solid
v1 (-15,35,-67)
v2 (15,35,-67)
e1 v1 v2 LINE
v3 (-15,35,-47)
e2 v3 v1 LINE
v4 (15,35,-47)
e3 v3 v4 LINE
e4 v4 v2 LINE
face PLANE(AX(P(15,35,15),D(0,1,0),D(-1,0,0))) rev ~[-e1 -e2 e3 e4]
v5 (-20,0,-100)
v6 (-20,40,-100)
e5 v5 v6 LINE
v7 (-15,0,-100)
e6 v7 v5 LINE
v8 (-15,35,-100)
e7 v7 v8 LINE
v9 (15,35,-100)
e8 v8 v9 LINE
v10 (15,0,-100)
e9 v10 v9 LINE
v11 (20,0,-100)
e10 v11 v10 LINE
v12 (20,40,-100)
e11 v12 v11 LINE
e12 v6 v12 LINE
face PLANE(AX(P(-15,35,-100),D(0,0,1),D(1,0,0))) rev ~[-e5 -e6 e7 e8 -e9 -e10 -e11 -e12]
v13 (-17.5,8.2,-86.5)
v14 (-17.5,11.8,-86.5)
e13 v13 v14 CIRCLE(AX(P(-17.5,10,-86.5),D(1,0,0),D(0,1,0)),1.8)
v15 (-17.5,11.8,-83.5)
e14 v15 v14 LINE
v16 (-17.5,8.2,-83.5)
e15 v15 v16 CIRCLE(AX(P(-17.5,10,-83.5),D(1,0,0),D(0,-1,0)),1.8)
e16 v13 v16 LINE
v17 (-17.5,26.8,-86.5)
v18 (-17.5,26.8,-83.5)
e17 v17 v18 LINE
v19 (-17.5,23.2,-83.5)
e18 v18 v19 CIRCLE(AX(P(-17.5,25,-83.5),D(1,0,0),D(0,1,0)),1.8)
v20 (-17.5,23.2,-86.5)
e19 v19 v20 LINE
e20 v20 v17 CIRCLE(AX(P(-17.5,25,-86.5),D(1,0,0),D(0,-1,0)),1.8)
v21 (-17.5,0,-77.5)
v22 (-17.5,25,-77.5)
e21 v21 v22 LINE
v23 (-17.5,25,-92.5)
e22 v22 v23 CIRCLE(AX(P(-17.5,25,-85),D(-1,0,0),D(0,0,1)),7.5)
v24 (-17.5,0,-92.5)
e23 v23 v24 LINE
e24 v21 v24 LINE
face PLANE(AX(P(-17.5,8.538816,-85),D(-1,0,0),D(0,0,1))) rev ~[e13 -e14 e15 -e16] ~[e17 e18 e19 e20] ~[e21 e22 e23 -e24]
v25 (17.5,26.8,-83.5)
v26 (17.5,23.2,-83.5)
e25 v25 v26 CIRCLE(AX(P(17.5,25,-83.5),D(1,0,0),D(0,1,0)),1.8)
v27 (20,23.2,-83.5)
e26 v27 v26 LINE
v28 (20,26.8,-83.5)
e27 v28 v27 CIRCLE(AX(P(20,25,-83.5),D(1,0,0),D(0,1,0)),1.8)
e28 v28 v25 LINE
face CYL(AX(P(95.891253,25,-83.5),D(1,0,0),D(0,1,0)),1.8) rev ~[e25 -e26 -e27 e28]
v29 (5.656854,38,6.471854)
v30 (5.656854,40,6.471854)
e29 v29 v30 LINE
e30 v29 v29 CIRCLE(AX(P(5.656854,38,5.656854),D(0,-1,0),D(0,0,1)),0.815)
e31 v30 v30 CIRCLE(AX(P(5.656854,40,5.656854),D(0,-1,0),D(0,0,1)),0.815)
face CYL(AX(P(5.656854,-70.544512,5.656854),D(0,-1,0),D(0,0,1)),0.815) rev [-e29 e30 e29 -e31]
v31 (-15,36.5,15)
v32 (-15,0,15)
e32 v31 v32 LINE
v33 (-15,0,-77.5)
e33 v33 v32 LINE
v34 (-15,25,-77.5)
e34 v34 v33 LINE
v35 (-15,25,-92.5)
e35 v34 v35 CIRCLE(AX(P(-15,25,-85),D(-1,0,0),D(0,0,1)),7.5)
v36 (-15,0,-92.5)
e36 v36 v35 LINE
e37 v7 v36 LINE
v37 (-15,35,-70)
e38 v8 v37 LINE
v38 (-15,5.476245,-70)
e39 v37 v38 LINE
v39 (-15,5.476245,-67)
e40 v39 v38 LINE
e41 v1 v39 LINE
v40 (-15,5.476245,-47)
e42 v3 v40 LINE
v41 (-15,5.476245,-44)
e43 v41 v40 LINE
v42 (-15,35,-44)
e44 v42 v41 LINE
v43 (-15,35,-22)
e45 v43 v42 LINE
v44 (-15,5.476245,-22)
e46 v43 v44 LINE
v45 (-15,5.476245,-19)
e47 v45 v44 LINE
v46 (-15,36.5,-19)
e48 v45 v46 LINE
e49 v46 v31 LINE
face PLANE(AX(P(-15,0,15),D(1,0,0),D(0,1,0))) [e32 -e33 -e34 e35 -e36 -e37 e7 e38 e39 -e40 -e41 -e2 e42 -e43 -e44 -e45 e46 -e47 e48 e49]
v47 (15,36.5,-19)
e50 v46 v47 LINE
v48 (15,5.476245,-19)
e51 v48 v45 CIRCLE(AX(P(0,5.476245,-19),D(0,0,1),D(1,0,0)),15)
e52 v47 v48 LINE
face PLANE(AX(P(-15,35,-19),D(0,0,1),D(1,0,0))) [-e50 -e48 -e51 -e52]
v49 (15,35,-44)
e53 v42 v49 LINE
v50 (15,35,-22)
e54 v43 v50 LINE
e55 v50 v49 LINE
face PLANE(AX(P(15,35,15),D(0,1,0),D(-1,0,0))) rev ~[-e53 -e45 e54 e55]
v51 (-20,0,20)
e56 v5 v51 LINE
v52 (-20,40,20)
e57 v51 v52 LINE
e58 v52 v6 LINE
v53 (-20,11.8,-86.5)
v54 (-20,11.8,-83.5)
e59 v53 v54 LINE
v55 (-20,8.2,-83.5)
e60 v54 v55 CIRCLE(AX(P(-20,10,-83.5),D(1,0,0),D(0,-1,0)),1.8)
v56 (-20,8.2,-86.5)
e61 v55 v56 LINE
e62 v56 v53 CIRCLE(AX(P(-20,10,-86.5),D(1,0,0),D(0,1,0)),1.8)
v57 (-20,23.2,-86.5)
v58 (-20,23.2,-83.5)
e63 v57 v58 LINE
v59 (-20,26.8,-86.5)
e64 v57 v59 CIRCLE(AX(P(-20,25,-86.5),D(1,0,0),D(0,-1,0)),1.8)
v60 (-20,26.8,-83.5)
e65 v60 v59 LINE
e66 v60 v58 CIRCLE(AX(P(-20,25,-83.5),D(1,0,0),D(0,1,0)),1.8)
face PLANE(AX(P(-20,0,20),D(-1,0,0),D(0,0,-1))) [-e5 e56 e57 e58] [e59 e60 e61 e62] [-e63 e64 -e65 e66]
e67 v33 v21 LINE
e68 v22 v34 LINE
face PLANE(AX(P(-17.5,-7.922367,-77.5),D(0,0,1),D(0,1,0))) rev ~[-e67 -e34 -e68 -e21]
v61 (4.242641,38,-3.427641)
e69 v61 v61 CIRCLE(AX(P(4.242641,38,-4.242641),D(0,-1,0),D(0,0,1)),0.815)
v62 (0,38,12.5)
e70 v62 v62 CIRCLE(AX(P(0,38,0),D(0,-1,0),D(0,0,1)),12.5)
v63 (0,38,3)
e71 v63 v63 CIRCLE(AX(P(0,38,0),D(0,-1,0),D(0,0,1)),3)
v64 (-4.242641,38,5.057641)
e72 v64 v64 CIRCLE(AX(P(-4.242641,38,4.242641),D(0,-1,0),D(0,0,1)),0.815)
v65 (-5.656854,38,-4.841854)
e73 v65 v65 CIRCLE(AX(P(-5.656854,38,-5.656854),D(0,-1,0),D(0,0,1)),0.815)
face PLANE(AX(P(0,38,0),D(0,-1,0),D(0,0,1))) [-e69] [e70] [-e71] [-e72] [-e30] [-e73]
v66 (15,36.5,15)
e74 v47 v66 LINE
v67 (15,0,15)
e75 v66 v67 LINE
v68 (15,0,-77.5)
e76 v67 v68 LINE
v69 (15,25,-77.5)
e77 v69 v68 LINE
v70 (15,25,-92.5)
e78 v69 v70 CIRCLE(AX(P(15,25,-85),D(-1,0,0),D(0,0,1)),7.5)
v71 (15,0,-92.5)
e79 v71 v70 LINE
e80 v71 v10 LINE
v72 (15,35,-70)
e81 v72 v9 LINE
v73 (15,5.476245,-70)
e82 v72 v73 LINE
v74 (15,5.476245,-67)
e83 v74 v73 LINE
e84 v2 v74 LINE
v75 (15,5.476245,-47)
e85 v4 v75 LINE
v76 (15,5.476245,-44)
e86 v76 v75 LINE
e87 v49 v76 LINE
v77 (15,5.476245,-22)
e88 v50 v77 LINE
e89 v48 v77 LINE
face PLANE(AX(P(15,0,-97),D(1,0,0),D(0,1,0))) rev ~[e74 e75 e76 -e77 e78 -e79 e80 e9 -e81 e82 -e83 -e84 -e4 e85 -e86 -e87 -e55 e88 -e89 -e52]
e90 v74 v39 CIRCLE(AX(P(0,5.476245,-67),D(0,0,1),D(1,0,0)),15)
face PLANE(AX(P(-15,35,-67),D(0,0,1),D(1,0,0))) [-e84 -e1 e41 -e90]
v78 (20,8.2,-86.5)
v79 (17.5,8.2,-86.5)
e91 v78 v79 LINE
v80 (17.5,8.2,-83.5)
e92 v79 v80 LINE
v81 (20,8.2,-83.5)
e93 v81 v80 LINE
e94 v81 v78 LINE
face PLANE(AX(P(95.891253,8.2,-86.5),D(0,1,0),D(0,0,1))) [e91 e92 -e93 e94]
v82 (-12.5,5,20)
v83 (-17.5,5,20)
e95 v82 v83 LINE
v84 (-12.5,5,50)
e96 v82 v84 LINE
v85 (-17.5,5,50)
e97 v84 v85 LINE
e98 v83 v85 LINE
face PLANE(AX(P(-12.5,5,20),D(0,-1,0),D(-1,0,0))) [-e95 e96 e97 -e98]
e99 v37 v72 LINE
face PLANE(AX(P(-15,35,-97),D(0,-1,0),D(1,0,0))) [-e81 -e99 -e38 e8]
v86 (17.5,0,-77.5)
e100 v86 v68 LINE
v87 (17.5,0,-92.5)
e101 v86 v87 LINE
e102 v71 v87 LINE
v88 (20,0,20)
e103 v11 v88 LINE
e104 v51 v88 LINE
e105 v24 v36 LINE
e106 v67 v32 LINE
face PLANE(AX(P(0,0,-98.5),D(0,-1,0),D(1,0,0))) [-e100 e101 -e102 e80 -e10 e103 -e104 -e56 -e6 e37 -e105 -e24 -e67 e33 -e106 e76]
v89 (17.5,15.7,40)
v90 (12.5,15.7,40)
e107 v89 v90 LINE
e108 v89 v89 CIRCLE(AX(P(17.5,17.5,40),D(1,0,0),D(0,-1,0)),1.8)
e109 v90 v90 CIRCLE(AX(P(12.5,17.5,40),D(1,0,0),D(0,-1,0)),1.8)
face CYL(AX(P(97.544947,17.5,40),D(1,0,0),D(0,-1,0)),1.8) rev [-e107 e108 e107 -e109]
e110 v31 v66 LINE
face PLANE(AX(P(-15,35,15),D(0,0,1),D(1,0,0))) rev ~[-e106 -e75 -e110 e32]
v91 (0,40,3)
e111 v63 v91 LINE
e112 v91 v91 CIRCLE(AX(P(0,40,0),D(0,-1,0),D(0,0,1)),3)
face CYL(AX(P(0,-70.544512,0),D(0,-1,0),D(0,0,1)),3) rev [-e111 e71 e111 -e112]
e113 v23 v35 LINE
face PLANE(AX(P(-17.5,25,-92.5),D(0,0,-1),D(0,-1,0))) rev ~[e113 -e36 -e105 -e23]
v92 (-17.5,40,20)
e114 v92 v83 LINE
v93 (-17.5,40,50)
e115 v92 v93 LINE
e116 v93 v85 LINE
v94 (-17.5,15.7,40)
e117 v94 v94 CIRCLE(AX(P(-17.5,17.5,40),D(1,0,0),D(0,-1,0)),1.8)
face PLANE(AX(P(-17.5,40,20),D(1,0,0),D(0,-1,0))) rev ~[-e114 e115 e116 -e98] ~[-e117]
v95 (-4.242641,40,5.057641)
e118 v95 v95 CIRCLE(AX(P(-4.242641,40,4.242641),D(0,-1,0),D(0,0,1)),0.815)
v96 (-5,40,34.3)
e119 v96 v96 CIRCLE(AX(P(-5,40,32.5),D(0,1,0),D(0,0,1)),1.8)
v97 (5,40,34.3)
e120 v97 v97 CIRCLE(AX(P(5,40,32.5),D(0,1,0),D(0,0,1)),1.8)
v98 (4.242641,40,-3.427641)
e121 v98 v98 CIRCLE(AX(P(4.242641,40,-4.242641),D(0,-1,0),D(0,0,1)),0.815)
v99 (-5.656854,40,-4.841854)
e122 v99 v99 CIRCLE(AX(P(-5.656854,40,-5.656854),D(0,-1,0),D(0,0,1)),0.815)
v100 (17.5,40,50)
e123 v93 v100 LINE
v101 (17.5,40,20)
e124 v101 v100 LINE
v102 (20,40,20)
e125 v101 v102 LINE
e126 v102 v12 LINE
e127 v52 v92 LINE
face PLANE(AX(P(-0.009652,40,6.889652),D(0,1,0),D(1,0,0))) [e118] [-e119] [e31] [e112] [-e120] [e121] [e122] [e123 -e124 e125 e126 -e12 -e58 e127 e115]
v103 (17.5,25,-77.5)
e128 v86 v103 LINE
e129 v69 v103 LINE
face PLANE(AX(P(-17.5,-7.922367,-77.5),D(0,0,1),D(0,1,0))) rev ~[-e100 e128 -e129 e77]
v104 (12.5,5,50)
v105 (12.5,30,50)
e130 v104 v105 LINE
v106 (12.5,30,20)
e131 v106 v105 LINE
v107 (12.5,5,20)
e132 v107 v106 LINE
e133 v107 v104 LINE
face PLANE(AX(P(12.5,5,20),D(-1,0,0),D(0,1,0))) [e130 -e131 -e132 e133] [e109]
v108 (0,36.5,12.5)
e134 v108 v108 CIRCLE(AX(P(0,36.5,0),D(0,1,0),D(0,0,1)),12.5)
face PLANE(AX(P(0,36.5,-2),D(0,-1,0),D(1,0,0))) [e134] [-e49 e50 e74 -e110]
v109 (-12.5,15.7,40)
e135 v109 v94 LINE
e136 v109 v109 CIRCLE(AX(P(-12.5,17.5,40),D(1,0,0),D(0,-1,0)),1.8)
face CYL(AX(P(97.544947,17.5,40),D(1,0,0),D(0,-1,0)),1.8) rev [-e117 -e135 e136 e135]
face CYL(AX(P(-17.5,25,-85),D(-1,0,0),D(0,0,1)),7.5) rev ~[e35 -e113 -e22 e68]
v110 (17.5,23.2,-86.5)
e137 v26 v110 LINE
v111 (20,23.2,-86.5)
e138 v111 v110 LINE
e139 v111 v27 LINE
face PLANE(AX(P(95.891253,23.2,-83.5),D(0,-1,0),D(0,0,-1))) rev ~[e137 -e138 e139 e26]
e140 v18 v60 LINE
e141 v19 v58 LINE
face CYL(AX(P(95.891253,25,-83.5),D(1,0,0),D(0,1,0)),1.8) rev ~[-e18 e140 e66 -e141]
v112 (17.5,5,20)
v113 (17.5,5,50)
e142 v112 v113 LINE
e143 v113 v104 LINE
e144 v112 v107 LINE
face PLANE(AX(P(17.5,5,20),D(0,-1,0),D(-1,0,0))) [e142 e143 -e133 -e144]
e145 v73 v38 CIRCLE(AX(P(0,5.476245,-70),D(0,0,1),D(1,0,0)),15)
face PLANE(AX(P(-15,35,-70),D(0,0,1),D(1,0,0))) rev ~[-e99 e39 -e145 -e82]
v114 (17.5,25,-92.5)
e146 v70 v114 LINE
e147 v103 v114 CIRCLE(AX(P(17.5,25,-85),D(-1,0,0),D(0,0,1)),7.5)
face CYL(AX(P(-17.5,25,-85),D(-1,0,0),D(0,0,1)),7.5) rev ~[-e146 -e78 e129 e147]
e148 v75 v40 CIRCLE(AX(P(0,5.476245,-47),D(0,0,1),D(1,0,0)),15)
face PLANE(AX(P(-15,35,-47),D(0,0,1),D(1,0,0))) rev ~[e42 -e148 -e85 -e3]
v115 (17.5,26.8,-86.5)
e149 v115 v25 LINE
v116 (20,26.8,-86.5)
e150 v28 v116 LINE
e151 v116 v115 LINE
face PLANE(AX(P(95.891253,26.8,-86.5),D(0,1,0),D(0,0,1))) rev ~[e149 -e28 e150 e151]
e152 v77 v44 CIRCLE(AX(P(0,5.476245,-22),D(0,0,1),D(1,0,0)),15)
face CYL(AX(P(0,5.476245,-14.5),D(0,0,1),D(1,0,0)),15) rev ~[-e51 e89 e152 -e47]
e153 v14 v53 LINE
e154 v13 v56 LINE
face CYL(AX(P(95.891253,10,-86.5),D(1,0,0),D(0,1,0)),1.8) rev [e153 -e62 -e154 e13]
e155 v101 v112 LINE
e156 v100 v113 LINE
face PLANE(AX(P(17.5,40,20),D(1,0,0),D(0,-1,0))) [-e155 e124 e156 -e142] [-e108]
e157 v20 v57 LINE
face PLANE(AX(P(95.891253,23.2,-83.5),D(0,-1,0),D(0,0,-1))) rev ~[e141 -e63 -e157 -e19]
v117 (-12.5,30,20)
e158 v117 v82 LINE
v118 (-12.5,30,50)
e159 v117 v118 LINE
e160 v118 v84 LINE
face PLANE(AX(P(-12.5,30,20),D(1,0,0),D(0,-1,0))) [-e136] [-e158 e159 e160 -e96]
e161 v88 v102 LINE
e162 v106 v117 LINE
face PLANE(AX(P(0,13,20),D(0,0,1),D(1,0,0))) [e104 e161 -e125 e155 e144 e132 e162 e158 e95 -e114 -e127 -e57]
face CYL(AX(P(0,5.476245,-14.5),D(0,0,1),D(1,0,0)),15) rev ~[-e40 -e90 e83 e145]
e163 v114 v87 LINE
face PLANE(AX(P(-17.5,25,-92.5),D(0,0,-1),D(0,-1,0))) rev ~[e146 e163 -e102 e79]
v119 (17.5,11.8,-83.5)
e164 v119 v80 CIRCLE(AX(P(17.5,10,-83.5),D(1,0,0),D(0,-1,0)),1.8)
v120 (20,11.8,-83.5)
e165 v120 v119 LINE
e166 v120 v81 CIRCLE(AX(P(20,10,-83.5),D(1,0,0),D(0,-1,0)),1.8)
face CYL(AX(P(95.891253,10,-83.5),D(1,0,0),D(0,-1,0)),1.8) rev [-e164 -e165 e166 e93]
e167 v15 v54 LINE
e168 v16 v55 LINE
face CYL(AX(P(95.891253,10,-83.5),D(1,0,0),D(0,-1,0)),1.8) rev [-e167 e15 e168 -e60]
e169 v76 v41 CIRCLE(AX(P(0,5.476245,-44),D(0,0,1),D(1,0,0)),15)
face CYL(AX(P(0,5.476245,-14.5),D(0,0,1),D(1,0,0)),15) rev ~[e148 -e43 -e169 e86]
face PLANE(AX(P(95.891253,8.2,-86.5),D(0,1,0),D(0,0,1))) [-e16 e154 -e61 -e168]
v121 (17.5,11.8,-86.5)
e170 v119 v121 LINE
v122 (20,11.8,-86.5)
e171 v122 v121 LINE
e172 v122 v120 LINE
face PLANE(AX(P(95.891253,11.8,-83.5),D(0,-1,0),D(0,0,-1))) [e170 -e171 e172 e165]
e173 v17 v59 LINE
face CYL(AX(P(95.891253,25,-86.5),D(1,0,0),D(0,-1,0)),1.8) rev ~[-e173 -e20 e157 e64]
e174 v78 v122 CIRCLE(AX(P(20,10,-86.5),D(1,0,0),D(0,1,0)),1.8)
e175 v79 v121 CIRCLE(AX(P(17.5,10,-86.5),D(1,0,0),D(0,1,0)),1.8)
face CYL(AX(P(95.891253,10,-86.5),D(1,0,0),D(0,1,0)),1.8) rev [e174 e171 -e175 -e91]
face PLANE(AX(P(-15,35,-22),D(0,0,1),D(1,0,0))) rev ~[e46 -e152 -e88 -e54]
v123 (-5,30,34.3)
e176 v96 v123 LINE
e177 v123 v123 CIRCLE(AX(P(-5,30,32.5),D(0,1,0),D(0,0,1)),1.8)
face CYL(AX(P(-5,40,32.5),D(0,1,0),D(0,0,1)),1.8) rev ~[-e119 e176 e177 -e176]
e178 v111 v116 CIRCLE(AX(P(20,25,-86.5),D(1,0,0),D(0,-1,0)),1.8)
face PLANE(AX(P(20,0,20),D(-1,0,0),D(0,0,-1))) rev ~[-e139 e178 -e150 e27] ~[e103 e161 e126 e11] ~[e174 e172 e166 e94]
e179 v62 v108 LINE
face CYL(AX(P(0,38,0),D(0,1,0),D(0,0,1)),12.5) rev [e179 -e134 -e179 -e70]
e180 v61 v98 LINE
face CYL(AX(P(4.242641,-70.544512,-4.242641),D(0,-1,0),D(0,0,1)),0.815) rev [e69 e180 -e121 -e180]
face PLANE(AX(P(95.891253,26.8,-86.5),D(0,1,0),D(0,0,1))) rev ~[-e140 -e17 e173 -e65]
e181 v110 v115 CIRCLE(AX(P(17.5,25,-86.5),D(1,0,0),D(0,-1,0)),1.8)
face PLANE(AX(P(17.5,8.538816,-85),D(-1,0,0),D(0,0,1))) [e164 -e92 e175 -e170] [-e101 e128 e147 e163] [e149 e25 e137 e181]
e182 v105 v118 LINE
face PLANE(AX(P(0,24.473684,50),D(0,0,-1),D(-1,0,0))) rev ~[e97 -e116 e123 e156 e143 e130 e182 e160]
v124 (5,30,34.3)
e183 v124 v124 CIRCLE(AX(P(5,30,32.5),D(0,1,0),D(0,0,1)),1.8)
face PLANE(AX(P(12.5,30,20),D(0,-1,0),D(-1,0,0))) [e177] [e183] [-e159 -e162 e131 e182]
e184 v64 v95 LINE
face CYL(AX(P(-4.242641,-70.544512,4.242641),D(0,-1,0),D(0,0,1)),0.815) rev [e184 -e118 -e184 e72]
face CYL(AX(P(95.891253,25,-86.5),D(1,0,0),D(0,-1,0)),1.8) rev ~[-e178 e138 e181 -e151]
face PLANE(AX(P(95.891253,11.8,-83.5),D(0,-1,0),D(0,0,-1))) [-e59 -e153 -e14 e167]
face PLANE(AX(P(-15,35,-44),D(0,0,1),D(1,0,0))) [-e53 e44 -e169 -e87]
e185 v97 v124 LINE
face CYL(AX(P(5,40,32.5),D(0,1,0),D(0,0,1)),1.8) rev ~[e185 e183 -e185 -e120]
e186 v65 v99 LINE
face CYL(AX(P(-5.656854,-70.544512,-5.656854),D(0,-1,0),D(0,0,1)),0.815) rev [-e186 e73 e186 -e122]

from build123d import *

# Parameters (mm, degrees)
SKETCH1_W                = 40
SKETCH1_H                = 40
SKETCH1_R                = 2.375
BOSS_EXTRUDE1_DEPTH      = 40
CUT_EXTRUDE1_DEPTH       = 61
CUT_EXTRUDE1_DEPTH_BACK  = 61
CUT_EXTRUDE2_DEPTH       = 49.989795019
CUT_EXTRUDE2_DEPTH_BACK  = 35
SKETCH6_W                = 30
SKETCH6_H                = 35
SKETCH3_R                = 3
CUT_EXTRUDE3_DEPTH       = 61
BOSS_EXTRUDE2_DEPTH      = 30
SKETCH8_R                = 1.8
CUT_EXTRUDE4_DEPTH       = 68.082039325
BOSS_EXTRUDE4_START      = -35
SKETCH10_W               = 5
SKETCH10_H               = 35
BOSS_EXTRUDE4_DEPTH      = 115
SKETCH11_R               = 2.375
CUT_EXTRUDE5_DEPTH       = 70
CUT_EXTRUDE6_DEPTH       = 115.891252931
CUT_EXTRUDE6_DEPTH_BACK  = 115.891252931
SKETCH14_W               = 30
SKETCH14_H               = 3
BOSS_EXTRUDE10_DEPTH     = 35
CUT_EXTRUDE7_DEPTH       = 108.819293264
CUT_EXTRUDE7_DEPTH_BACK  = 1.5
SKETCH16_W               = 30
SKETCH16_H               = 34
CUT_EXTRUDE8_DEPTH       = 32
CUT_EXTRUDE8_DEPTH_BACK  = 32.5
CUT_EXTRUDE9_DEPTH       = 115.04494728
CUT_EXTRUDE9_DEPTH_BACK  = 115.04494728
SKETCH19_R               = 1.8
SKETCH3_2_R              = 3
BOSS_EXTRUDE11_DEPTH     = 5
SKETCH20_W               = 30
SKETCH20_H               = 35
CUT_EXTRUDE10_DEPTH      = 10
CUT_EXTRUDE11_DEPTH      = 110.544511501
CUT_EXTRUDE11_DEPTH_BACK = 110.544511501
SKETCH22_R               = 3
SKETCH21_R               = 2.375
BOSS_EXTRUDE13_DEPTH     = 3.5
CUT_EXTRUDE12_DEPTH      = 110.544511501
CUT_EXTRUDE12_DEPTH_BACK = 110.544511501
SKETCH23_R               = 0.815
CUT_EXTRUDE13_DEPTH      = 109.315511355
CUT_EXTRUDE13_DEPTH_BACK = 1.5
SKETCH24_R               = 12.5
CUT_EXTRUDE14_DEPTH      = 17.5
CUT_EXTRUDE14_DEPTH_BACK = 17.5


with BuildPart() as part:
    # Sketch1 → Boss-Extrude1 (new body)
    with BuildSketch(Plane(origin=(0, 0, 0), x_dir=(1, 0, 0), z_dir=(0, 1, 0))):
        Rectangle(SKETCH1_W, SKETCH1_H)
        with Locations(Location((6.88, 0, 0), (0, 0, 270))):
            Circle(SKETCH1_R, mode=Mode.SUBTRACT)
        with Locations(Location((-0.009652089, -6.889652089, 0), (0, 0, 270))):
            Circle(SKETCH1_R, mode=Mode.SUBTRACT)
        with Locations(Location((-6.899304178, 0, 0), (0, 0, 270))):
            Circle(SKETCH1_R, mode=Mode.SUBTRACT)
        with Locations(Location((-0.009652089, 6.889652089, 0), (0, 0, 270))):
            Circle(SKETCH1_R, mode=Mode.SUBTRACT)
    extrude(amount=BOSS_EXTRUDE1_DEPTH)

    # Sketch4 → Cut-Extrude1 (cut, two sides: drawn at the far end of the back side and taken through both)
    with BuildSketch(Plane.ZY.offset(20).offset(-CUT_EXTRUDE1_DEPTH_BACK)):
        with BuildLine():
            Line((-20, 35), (-20, 0))
            Line((-20, 0), (15, 0))
            ThreePointArc((15, 0), (4.748737342, 24.748737342), (-20, 35))
        make_face()
    extrude(amount=CUT_EXTRUDE1_DEPTH + CUT_EXTRUDE1_DEPTH_BACK, mode=Mode.SUBTRACT)

    # Sketch6 → Cut-Extrude2 (cut, two sides: drawn at the far end of the back side and taken through both)
    with BuildSketch(Plane.XZ.offset(-CUT_EXTRUDE2_DEPTH_BACK)):
        with Locations((0, -2.5)):
            Rectangle(SKETCH6_W, SKETCH6_H)
    extrude(amount=CUT_EXTRUDE2_DEPTH + CUT_EXTRUDE2_DEPTH_BACK, mode=Mode.SUBTRACT)

    # Sketch3 → Cut-Extrude3 (cut, through all)
    with BuildSketch(Plane.XY.offset(20)):
        with Locations((0, 13)):
            Circle(SKETCH3_R)
        with Locations((-7, 20)):
            Circle(SKETCH3_R)
        with Locations((7, 20)):
            Circle(SKETCH3_R)
    extrude(amount=-CUT_EXTRUDE3_DEPTH, mode=Mode.SUBTRACT)

    # Sketch7 → Boss-Extrude2 (add)
    with BuildSketch(Plane.XY.offset(20)):
        Polygon((-17.5, 40), (17.5, 40), (17.5, 5), (12.5, 5), (12.5, 30), (-12.5, 30), (-12.5, 5), (-17.5, 5), (-17.5, 23.79079138), align=None)
    extrude(amount=BOSS_EXTRUDE2_DEPTH)

    # Sketch8 → Cut-Extrude4 (cut, through all)
    with BuildSketch(Plane(origin=(0, 40, 0), x_dir=(1, 0, 0), z_dir=(0, 1, 0))):
        with Locations(Location((5, -32.5, 0), (0, 0, 270))):
            Circle(SKETCH8_R)
        with Locations(Location((-5, -32.5, 0), (0, 0, 270))):
            Circle(SKETCH8_R)
    extrude(amount=-CUT_EXTRUDE4_DEPTH, mode=Mode.SUBTRACT)

    # Sketch10 → Boss-Extrude4 (add)
    with BuildSketch(Plane(origin=(0, 0, -20), x_dir=(-1, 0, 0), z_dir=(0, 0, -1)).offset(BOSS_EXTRUDE4_START)):
        Polygon((20, 40), (-20, 40), (-20, 35), (-15, 35), (15, 35), (20, 35), align=None)
        with Locations((17.5, 17.5)):
            Rectangle(SKETCH10_W, SKETCH10_H)
        with Locations((-17.5, 17.5)):
            Rectangle(SKETCH10_W, SKETCH10_H)
    extrude(amount=BOSS_EXTRUDE4_DEPTH)

    # Sketch11 → Cut-Extrude5 (cut)
    with BuildSketch(Plane(origin=(0, 40, 0), x_dir=(1, 0, 0), z_dir=(0, 1, 0))):
        with Locations(Location((-0.009652089, -6.889652089, 0), (0, 0, 270))):
            Circle(SKETCH11_R)
        with Locations(Location((6.88, 0, 0), (0, 0, 270))):
            Circle(SKETCH11_R)
        with Locations(Location((-0.009652089, 6.889652089, 0), (0, 0, 270))):
            Circle(SKETCH11_R)
        with Locations(Location((-6.899304178, 0, 0), (0, 0, 270))):
            Circle(SKETCH11_R)
    extrude(amount=-CUT_EXTRUDE5_DEPTH, mode=Mode.SUBTRACT)

    # Sketch13 → Cut-Extrude6 (cut, two sides: drawn at the far end of the back side and taken through both)
    with BuildSketch(Plane.ZY.offset(20).offset(-CUT_EXTRUDE6_DEPTH_BACK)):
        with BuildLine():
            Line((-86.5, 26.8), (-83.5, 26.8))
            ThreePointArc((-83.5, 26.8), (-81.7, 25), (-83.5, 23.2))
            Line((-83.5, 23.2), (-86.5, 23.2))
            ThreePointArc((-86.5, 23.2), (-88.3, 25), (-86.5, 26.8))
        make_face()
        with BuildLine():
            Line((-86.5, 8.2), (-83.5, 8.2))
            ThreePointArc((-83.5, 8.2), (-81.7, 10), (-83.5, 11.8))
            Line((-83.5, 11.8), (-86.5, 11.8))
            ThreePointArc((-86.5, 11.8), (-88.3, 10), (-86.5, 8.2))
        make_face()
    extrude(amount=CUT_EXTRUDE6_DEPTH + CUT_EXTRUDE6_DEPTH_BACK, mode=Mode.SUBTRACT)

    # Sketch14 → Boss-Extrude10 (add)
    with BuildSketch(Plane.XZ.offset(-35)):
        with Locations((0, -98.5)):
            Rectangle(SKETCH14_W, SKETCH14_H)
        with Locations((0, -45.5)):
            Rectangle(SKETCH14_W, SKETCH14_H)
        with Locations((0, -20.5)):
            Rectangle(SKETCH14_W, SKETCH14_H)
        with Locations((0, -68.5)):
            Rectangle(SKETCH14_W, SKETCH14_H)
    extrude(amount=BOSS_EXTRUDE10_DEPTH)

    # Sketch16 → Cut-Extrude7 (cut, two sides: drawn at the far end of the back side and taken through both)
    with BuildSketch(Plane.XZ.offset(-35).offset(-CUT_EXTRUDE7_DEPTH_BACK)):
        with Locations((0, -2)):
            Rectangle(SKETCH16_W, SKETCH16_H)
    extrude(amount=CUT_EXTRUDE7_DEPTH + CUT_EXTRUDE7_DEPTH_BACK, mode=Mode.SUBTRACT)

    # Sketch17 → Cut-Extrude8 (cut, two sides: drawn at the far end of the back side and taken through both)
    with BuildSketch(Plane(origin=(0, 0, -47), x_dir=(-1, 0, 0), z_dir=(0, 0, -1)).offset(-CUT_EXTRUDE8_DEPTH_BACK)):
        with BuildLine():
            Line((-15, -8.523755025), (-15, 5.476244975))
            ThreePointArc((-15, 5.476244975), (0, 20.476244975), (15, 5.476244975))
            Line((15, 5.476244975), (15, -8.523755025))
            ThreePointArc((15, -8.523755025), (0, -23.523755025), (-15, -8.523755025))
        make_face()
    extrude(amount=CUT_EXTRUDE8_DEPTH + CUT_EXTRUDE8_DEPTH_BACK, mode=Mode.SUBTRACT)

    # Sketch19 → Cut-Extrude9 (cut, two sides: drawn at the far end of the back side and taken through both)
    with BuildSketch(Plane.ZY.offset(17.5).offset(-CUT_EXTRUDE9_DEPTH_BACK)):
        with Locations(Location((40, 17.5, 0), (0, 0, 270))):
            Circle(SKETCH19_R)
    extrude(amount=CUT_EXTRUDE9_DEPTH + CUT_EXTRUDE9_DEPTH_BACK, mode=Mode.SUBTRACT)

    # Sketch3<2> → Boss-Extrude11 (add)
    with BuildSketch(Plane.XY.offset(20)):
        with Locations((0, 13)):
            Circle(SKETCH3_2_R)
        with Locations((-7, 20)):
            Circle(SKETCH3_2_R)
        with Locations((7, 20)):
            Circle(SKETCH3_2_R)
    extrude(amount=-BOSS_EXTRUDE11_DEPTH)

    # Sketch20 → Cut-Extrude10 (cut)
    with BuildSketch(Plane.XY.offset(-97)):
        with Locations((0, 17.5)):
            Rectangle(SKETCH20_W, SKETCH20_H)
    extrude(amount=-CUT_EXTRUDE10_DEPTH, mode=Mode.SUBTRACT)

    # Sketch22 → Cut-Extrude11 (cut, two sides: drawn at the far end of the back side and taken through both)
    with BuildSketch(Plane(origin=(0, 40, 0), x_dir=(1, 0, 0), z_dir=(0, 1, 0)).offset(-CUT_EXTRUDE11_DEPTH_BACK)):
        with Locations(Location((0, 0, 0), (0, 0, 270))):
            Circle(SKETCH22_R)
    extrude(amount=CUT_EXTRUDE11_DEPTH + CUT_EXTRUDE11_DEPTH_BACK, mode=Mode.SUBTRACT)

    # Sketch21 → Boss-Extrude13 (add)
    with BuildSketch(Plane(origin=(0, 40, 0), x_dir=(1, 0, 0), z_dir=(0, 1, 0))):
        with Locations((-0.009652089, -6.889652089)):
            Circle(SKETCH21_R)
        with Locations((6.88, 0)):
            Circle(SKETCH21_R)
        with Locations((-0.009652089, 6.889652089)):
            Circle(SKETCH21_R)
        with Locations((-6.899304178, 0)):
            Circle(SKETCH21_R)
    extrude(amount=-BOSS_EXTRUDE13_DEPTH)

    # Sketch23 → Cut-Extrude12 (cut, two sides: drawn at the far end of the back side and taken through both)
    with BuildSketch(Plane(origin=(0, 40, 0), x_dir=(1, 0, 0), z_dir=(0, 1, 0)).offset(-CUT_EXTRUDE12_DEPTH_BACK)):
        with Locations(Location((-5.656854249, 5.656854249, 0), (0, 0, 270))):
            Circle(SKETCH23_R)
        with Locations(Location((4.242640687, 4.242640687, 0), (0, 0, 270))):
            Circle(SKETCH23_R)
        with Locations(Location((5.656854249, -5.656854249, 0), (0, 0, 270))):
            Circle(SKETCH23_R)
        with Locations(Location((-4.242640687, -4.242640687, 0), (0, 0, 270))):
            Circle(SKETCH23_R)
    extrude(amount=CUT_EXTRUDE12_DEPTH + CUT_EXTRUDE12_DEPTH_BACK, mode=Mode.SUBTRACT)

    # Sketch24 → Cut-Extrude13 (cut, two sides: drawn at the far end of the back side and taken through both)
    with BuildSketch(Plane.XZ.offset(-36.5).offset(-CUT_EXTRUDE13_DEPTH_BACK)):
        with Locations(Location((0, 0, 0), (0, 0, 90))):
            Circle(SKETCH24_R)
    extrude(amount=CUT_EXTRUDE13_DEPTH + CUT_EXTRUDE13_DEPTH_BACK, mode=Mode.SUBTRACT)

    # Sketch25 → Cut-Extrude14 (cut, two sides: drawn at the far end of the back side and taken through both)
    with BuildSketch(Plane(origin=(0, 0, 0), x_dir=(0, 0, -1), z_dir=(1, 0, 0)).offset(-CUT_EXTRUDE14_DEPTH_BACK)):
        with BuildLine():
            Line((92.5, 25), (92.5, -7.922367103))
            ThreePointArc((92.5, -7.922367103), (85, -15.422367103), (77.5, -7.922367103))
            Line((77.5, -7.922367103), (77.5, 25))
            ThreePointArc((77.5, 25), (85, 32.5), (92.5, 25))
        make_face()
    extrude(amount=CUT_EXTRUDE14_DEPTH + CUT_EXTRUDE14_DEPTH_BACK, mode=Mode.SUBTRACT)


solid = part.part
